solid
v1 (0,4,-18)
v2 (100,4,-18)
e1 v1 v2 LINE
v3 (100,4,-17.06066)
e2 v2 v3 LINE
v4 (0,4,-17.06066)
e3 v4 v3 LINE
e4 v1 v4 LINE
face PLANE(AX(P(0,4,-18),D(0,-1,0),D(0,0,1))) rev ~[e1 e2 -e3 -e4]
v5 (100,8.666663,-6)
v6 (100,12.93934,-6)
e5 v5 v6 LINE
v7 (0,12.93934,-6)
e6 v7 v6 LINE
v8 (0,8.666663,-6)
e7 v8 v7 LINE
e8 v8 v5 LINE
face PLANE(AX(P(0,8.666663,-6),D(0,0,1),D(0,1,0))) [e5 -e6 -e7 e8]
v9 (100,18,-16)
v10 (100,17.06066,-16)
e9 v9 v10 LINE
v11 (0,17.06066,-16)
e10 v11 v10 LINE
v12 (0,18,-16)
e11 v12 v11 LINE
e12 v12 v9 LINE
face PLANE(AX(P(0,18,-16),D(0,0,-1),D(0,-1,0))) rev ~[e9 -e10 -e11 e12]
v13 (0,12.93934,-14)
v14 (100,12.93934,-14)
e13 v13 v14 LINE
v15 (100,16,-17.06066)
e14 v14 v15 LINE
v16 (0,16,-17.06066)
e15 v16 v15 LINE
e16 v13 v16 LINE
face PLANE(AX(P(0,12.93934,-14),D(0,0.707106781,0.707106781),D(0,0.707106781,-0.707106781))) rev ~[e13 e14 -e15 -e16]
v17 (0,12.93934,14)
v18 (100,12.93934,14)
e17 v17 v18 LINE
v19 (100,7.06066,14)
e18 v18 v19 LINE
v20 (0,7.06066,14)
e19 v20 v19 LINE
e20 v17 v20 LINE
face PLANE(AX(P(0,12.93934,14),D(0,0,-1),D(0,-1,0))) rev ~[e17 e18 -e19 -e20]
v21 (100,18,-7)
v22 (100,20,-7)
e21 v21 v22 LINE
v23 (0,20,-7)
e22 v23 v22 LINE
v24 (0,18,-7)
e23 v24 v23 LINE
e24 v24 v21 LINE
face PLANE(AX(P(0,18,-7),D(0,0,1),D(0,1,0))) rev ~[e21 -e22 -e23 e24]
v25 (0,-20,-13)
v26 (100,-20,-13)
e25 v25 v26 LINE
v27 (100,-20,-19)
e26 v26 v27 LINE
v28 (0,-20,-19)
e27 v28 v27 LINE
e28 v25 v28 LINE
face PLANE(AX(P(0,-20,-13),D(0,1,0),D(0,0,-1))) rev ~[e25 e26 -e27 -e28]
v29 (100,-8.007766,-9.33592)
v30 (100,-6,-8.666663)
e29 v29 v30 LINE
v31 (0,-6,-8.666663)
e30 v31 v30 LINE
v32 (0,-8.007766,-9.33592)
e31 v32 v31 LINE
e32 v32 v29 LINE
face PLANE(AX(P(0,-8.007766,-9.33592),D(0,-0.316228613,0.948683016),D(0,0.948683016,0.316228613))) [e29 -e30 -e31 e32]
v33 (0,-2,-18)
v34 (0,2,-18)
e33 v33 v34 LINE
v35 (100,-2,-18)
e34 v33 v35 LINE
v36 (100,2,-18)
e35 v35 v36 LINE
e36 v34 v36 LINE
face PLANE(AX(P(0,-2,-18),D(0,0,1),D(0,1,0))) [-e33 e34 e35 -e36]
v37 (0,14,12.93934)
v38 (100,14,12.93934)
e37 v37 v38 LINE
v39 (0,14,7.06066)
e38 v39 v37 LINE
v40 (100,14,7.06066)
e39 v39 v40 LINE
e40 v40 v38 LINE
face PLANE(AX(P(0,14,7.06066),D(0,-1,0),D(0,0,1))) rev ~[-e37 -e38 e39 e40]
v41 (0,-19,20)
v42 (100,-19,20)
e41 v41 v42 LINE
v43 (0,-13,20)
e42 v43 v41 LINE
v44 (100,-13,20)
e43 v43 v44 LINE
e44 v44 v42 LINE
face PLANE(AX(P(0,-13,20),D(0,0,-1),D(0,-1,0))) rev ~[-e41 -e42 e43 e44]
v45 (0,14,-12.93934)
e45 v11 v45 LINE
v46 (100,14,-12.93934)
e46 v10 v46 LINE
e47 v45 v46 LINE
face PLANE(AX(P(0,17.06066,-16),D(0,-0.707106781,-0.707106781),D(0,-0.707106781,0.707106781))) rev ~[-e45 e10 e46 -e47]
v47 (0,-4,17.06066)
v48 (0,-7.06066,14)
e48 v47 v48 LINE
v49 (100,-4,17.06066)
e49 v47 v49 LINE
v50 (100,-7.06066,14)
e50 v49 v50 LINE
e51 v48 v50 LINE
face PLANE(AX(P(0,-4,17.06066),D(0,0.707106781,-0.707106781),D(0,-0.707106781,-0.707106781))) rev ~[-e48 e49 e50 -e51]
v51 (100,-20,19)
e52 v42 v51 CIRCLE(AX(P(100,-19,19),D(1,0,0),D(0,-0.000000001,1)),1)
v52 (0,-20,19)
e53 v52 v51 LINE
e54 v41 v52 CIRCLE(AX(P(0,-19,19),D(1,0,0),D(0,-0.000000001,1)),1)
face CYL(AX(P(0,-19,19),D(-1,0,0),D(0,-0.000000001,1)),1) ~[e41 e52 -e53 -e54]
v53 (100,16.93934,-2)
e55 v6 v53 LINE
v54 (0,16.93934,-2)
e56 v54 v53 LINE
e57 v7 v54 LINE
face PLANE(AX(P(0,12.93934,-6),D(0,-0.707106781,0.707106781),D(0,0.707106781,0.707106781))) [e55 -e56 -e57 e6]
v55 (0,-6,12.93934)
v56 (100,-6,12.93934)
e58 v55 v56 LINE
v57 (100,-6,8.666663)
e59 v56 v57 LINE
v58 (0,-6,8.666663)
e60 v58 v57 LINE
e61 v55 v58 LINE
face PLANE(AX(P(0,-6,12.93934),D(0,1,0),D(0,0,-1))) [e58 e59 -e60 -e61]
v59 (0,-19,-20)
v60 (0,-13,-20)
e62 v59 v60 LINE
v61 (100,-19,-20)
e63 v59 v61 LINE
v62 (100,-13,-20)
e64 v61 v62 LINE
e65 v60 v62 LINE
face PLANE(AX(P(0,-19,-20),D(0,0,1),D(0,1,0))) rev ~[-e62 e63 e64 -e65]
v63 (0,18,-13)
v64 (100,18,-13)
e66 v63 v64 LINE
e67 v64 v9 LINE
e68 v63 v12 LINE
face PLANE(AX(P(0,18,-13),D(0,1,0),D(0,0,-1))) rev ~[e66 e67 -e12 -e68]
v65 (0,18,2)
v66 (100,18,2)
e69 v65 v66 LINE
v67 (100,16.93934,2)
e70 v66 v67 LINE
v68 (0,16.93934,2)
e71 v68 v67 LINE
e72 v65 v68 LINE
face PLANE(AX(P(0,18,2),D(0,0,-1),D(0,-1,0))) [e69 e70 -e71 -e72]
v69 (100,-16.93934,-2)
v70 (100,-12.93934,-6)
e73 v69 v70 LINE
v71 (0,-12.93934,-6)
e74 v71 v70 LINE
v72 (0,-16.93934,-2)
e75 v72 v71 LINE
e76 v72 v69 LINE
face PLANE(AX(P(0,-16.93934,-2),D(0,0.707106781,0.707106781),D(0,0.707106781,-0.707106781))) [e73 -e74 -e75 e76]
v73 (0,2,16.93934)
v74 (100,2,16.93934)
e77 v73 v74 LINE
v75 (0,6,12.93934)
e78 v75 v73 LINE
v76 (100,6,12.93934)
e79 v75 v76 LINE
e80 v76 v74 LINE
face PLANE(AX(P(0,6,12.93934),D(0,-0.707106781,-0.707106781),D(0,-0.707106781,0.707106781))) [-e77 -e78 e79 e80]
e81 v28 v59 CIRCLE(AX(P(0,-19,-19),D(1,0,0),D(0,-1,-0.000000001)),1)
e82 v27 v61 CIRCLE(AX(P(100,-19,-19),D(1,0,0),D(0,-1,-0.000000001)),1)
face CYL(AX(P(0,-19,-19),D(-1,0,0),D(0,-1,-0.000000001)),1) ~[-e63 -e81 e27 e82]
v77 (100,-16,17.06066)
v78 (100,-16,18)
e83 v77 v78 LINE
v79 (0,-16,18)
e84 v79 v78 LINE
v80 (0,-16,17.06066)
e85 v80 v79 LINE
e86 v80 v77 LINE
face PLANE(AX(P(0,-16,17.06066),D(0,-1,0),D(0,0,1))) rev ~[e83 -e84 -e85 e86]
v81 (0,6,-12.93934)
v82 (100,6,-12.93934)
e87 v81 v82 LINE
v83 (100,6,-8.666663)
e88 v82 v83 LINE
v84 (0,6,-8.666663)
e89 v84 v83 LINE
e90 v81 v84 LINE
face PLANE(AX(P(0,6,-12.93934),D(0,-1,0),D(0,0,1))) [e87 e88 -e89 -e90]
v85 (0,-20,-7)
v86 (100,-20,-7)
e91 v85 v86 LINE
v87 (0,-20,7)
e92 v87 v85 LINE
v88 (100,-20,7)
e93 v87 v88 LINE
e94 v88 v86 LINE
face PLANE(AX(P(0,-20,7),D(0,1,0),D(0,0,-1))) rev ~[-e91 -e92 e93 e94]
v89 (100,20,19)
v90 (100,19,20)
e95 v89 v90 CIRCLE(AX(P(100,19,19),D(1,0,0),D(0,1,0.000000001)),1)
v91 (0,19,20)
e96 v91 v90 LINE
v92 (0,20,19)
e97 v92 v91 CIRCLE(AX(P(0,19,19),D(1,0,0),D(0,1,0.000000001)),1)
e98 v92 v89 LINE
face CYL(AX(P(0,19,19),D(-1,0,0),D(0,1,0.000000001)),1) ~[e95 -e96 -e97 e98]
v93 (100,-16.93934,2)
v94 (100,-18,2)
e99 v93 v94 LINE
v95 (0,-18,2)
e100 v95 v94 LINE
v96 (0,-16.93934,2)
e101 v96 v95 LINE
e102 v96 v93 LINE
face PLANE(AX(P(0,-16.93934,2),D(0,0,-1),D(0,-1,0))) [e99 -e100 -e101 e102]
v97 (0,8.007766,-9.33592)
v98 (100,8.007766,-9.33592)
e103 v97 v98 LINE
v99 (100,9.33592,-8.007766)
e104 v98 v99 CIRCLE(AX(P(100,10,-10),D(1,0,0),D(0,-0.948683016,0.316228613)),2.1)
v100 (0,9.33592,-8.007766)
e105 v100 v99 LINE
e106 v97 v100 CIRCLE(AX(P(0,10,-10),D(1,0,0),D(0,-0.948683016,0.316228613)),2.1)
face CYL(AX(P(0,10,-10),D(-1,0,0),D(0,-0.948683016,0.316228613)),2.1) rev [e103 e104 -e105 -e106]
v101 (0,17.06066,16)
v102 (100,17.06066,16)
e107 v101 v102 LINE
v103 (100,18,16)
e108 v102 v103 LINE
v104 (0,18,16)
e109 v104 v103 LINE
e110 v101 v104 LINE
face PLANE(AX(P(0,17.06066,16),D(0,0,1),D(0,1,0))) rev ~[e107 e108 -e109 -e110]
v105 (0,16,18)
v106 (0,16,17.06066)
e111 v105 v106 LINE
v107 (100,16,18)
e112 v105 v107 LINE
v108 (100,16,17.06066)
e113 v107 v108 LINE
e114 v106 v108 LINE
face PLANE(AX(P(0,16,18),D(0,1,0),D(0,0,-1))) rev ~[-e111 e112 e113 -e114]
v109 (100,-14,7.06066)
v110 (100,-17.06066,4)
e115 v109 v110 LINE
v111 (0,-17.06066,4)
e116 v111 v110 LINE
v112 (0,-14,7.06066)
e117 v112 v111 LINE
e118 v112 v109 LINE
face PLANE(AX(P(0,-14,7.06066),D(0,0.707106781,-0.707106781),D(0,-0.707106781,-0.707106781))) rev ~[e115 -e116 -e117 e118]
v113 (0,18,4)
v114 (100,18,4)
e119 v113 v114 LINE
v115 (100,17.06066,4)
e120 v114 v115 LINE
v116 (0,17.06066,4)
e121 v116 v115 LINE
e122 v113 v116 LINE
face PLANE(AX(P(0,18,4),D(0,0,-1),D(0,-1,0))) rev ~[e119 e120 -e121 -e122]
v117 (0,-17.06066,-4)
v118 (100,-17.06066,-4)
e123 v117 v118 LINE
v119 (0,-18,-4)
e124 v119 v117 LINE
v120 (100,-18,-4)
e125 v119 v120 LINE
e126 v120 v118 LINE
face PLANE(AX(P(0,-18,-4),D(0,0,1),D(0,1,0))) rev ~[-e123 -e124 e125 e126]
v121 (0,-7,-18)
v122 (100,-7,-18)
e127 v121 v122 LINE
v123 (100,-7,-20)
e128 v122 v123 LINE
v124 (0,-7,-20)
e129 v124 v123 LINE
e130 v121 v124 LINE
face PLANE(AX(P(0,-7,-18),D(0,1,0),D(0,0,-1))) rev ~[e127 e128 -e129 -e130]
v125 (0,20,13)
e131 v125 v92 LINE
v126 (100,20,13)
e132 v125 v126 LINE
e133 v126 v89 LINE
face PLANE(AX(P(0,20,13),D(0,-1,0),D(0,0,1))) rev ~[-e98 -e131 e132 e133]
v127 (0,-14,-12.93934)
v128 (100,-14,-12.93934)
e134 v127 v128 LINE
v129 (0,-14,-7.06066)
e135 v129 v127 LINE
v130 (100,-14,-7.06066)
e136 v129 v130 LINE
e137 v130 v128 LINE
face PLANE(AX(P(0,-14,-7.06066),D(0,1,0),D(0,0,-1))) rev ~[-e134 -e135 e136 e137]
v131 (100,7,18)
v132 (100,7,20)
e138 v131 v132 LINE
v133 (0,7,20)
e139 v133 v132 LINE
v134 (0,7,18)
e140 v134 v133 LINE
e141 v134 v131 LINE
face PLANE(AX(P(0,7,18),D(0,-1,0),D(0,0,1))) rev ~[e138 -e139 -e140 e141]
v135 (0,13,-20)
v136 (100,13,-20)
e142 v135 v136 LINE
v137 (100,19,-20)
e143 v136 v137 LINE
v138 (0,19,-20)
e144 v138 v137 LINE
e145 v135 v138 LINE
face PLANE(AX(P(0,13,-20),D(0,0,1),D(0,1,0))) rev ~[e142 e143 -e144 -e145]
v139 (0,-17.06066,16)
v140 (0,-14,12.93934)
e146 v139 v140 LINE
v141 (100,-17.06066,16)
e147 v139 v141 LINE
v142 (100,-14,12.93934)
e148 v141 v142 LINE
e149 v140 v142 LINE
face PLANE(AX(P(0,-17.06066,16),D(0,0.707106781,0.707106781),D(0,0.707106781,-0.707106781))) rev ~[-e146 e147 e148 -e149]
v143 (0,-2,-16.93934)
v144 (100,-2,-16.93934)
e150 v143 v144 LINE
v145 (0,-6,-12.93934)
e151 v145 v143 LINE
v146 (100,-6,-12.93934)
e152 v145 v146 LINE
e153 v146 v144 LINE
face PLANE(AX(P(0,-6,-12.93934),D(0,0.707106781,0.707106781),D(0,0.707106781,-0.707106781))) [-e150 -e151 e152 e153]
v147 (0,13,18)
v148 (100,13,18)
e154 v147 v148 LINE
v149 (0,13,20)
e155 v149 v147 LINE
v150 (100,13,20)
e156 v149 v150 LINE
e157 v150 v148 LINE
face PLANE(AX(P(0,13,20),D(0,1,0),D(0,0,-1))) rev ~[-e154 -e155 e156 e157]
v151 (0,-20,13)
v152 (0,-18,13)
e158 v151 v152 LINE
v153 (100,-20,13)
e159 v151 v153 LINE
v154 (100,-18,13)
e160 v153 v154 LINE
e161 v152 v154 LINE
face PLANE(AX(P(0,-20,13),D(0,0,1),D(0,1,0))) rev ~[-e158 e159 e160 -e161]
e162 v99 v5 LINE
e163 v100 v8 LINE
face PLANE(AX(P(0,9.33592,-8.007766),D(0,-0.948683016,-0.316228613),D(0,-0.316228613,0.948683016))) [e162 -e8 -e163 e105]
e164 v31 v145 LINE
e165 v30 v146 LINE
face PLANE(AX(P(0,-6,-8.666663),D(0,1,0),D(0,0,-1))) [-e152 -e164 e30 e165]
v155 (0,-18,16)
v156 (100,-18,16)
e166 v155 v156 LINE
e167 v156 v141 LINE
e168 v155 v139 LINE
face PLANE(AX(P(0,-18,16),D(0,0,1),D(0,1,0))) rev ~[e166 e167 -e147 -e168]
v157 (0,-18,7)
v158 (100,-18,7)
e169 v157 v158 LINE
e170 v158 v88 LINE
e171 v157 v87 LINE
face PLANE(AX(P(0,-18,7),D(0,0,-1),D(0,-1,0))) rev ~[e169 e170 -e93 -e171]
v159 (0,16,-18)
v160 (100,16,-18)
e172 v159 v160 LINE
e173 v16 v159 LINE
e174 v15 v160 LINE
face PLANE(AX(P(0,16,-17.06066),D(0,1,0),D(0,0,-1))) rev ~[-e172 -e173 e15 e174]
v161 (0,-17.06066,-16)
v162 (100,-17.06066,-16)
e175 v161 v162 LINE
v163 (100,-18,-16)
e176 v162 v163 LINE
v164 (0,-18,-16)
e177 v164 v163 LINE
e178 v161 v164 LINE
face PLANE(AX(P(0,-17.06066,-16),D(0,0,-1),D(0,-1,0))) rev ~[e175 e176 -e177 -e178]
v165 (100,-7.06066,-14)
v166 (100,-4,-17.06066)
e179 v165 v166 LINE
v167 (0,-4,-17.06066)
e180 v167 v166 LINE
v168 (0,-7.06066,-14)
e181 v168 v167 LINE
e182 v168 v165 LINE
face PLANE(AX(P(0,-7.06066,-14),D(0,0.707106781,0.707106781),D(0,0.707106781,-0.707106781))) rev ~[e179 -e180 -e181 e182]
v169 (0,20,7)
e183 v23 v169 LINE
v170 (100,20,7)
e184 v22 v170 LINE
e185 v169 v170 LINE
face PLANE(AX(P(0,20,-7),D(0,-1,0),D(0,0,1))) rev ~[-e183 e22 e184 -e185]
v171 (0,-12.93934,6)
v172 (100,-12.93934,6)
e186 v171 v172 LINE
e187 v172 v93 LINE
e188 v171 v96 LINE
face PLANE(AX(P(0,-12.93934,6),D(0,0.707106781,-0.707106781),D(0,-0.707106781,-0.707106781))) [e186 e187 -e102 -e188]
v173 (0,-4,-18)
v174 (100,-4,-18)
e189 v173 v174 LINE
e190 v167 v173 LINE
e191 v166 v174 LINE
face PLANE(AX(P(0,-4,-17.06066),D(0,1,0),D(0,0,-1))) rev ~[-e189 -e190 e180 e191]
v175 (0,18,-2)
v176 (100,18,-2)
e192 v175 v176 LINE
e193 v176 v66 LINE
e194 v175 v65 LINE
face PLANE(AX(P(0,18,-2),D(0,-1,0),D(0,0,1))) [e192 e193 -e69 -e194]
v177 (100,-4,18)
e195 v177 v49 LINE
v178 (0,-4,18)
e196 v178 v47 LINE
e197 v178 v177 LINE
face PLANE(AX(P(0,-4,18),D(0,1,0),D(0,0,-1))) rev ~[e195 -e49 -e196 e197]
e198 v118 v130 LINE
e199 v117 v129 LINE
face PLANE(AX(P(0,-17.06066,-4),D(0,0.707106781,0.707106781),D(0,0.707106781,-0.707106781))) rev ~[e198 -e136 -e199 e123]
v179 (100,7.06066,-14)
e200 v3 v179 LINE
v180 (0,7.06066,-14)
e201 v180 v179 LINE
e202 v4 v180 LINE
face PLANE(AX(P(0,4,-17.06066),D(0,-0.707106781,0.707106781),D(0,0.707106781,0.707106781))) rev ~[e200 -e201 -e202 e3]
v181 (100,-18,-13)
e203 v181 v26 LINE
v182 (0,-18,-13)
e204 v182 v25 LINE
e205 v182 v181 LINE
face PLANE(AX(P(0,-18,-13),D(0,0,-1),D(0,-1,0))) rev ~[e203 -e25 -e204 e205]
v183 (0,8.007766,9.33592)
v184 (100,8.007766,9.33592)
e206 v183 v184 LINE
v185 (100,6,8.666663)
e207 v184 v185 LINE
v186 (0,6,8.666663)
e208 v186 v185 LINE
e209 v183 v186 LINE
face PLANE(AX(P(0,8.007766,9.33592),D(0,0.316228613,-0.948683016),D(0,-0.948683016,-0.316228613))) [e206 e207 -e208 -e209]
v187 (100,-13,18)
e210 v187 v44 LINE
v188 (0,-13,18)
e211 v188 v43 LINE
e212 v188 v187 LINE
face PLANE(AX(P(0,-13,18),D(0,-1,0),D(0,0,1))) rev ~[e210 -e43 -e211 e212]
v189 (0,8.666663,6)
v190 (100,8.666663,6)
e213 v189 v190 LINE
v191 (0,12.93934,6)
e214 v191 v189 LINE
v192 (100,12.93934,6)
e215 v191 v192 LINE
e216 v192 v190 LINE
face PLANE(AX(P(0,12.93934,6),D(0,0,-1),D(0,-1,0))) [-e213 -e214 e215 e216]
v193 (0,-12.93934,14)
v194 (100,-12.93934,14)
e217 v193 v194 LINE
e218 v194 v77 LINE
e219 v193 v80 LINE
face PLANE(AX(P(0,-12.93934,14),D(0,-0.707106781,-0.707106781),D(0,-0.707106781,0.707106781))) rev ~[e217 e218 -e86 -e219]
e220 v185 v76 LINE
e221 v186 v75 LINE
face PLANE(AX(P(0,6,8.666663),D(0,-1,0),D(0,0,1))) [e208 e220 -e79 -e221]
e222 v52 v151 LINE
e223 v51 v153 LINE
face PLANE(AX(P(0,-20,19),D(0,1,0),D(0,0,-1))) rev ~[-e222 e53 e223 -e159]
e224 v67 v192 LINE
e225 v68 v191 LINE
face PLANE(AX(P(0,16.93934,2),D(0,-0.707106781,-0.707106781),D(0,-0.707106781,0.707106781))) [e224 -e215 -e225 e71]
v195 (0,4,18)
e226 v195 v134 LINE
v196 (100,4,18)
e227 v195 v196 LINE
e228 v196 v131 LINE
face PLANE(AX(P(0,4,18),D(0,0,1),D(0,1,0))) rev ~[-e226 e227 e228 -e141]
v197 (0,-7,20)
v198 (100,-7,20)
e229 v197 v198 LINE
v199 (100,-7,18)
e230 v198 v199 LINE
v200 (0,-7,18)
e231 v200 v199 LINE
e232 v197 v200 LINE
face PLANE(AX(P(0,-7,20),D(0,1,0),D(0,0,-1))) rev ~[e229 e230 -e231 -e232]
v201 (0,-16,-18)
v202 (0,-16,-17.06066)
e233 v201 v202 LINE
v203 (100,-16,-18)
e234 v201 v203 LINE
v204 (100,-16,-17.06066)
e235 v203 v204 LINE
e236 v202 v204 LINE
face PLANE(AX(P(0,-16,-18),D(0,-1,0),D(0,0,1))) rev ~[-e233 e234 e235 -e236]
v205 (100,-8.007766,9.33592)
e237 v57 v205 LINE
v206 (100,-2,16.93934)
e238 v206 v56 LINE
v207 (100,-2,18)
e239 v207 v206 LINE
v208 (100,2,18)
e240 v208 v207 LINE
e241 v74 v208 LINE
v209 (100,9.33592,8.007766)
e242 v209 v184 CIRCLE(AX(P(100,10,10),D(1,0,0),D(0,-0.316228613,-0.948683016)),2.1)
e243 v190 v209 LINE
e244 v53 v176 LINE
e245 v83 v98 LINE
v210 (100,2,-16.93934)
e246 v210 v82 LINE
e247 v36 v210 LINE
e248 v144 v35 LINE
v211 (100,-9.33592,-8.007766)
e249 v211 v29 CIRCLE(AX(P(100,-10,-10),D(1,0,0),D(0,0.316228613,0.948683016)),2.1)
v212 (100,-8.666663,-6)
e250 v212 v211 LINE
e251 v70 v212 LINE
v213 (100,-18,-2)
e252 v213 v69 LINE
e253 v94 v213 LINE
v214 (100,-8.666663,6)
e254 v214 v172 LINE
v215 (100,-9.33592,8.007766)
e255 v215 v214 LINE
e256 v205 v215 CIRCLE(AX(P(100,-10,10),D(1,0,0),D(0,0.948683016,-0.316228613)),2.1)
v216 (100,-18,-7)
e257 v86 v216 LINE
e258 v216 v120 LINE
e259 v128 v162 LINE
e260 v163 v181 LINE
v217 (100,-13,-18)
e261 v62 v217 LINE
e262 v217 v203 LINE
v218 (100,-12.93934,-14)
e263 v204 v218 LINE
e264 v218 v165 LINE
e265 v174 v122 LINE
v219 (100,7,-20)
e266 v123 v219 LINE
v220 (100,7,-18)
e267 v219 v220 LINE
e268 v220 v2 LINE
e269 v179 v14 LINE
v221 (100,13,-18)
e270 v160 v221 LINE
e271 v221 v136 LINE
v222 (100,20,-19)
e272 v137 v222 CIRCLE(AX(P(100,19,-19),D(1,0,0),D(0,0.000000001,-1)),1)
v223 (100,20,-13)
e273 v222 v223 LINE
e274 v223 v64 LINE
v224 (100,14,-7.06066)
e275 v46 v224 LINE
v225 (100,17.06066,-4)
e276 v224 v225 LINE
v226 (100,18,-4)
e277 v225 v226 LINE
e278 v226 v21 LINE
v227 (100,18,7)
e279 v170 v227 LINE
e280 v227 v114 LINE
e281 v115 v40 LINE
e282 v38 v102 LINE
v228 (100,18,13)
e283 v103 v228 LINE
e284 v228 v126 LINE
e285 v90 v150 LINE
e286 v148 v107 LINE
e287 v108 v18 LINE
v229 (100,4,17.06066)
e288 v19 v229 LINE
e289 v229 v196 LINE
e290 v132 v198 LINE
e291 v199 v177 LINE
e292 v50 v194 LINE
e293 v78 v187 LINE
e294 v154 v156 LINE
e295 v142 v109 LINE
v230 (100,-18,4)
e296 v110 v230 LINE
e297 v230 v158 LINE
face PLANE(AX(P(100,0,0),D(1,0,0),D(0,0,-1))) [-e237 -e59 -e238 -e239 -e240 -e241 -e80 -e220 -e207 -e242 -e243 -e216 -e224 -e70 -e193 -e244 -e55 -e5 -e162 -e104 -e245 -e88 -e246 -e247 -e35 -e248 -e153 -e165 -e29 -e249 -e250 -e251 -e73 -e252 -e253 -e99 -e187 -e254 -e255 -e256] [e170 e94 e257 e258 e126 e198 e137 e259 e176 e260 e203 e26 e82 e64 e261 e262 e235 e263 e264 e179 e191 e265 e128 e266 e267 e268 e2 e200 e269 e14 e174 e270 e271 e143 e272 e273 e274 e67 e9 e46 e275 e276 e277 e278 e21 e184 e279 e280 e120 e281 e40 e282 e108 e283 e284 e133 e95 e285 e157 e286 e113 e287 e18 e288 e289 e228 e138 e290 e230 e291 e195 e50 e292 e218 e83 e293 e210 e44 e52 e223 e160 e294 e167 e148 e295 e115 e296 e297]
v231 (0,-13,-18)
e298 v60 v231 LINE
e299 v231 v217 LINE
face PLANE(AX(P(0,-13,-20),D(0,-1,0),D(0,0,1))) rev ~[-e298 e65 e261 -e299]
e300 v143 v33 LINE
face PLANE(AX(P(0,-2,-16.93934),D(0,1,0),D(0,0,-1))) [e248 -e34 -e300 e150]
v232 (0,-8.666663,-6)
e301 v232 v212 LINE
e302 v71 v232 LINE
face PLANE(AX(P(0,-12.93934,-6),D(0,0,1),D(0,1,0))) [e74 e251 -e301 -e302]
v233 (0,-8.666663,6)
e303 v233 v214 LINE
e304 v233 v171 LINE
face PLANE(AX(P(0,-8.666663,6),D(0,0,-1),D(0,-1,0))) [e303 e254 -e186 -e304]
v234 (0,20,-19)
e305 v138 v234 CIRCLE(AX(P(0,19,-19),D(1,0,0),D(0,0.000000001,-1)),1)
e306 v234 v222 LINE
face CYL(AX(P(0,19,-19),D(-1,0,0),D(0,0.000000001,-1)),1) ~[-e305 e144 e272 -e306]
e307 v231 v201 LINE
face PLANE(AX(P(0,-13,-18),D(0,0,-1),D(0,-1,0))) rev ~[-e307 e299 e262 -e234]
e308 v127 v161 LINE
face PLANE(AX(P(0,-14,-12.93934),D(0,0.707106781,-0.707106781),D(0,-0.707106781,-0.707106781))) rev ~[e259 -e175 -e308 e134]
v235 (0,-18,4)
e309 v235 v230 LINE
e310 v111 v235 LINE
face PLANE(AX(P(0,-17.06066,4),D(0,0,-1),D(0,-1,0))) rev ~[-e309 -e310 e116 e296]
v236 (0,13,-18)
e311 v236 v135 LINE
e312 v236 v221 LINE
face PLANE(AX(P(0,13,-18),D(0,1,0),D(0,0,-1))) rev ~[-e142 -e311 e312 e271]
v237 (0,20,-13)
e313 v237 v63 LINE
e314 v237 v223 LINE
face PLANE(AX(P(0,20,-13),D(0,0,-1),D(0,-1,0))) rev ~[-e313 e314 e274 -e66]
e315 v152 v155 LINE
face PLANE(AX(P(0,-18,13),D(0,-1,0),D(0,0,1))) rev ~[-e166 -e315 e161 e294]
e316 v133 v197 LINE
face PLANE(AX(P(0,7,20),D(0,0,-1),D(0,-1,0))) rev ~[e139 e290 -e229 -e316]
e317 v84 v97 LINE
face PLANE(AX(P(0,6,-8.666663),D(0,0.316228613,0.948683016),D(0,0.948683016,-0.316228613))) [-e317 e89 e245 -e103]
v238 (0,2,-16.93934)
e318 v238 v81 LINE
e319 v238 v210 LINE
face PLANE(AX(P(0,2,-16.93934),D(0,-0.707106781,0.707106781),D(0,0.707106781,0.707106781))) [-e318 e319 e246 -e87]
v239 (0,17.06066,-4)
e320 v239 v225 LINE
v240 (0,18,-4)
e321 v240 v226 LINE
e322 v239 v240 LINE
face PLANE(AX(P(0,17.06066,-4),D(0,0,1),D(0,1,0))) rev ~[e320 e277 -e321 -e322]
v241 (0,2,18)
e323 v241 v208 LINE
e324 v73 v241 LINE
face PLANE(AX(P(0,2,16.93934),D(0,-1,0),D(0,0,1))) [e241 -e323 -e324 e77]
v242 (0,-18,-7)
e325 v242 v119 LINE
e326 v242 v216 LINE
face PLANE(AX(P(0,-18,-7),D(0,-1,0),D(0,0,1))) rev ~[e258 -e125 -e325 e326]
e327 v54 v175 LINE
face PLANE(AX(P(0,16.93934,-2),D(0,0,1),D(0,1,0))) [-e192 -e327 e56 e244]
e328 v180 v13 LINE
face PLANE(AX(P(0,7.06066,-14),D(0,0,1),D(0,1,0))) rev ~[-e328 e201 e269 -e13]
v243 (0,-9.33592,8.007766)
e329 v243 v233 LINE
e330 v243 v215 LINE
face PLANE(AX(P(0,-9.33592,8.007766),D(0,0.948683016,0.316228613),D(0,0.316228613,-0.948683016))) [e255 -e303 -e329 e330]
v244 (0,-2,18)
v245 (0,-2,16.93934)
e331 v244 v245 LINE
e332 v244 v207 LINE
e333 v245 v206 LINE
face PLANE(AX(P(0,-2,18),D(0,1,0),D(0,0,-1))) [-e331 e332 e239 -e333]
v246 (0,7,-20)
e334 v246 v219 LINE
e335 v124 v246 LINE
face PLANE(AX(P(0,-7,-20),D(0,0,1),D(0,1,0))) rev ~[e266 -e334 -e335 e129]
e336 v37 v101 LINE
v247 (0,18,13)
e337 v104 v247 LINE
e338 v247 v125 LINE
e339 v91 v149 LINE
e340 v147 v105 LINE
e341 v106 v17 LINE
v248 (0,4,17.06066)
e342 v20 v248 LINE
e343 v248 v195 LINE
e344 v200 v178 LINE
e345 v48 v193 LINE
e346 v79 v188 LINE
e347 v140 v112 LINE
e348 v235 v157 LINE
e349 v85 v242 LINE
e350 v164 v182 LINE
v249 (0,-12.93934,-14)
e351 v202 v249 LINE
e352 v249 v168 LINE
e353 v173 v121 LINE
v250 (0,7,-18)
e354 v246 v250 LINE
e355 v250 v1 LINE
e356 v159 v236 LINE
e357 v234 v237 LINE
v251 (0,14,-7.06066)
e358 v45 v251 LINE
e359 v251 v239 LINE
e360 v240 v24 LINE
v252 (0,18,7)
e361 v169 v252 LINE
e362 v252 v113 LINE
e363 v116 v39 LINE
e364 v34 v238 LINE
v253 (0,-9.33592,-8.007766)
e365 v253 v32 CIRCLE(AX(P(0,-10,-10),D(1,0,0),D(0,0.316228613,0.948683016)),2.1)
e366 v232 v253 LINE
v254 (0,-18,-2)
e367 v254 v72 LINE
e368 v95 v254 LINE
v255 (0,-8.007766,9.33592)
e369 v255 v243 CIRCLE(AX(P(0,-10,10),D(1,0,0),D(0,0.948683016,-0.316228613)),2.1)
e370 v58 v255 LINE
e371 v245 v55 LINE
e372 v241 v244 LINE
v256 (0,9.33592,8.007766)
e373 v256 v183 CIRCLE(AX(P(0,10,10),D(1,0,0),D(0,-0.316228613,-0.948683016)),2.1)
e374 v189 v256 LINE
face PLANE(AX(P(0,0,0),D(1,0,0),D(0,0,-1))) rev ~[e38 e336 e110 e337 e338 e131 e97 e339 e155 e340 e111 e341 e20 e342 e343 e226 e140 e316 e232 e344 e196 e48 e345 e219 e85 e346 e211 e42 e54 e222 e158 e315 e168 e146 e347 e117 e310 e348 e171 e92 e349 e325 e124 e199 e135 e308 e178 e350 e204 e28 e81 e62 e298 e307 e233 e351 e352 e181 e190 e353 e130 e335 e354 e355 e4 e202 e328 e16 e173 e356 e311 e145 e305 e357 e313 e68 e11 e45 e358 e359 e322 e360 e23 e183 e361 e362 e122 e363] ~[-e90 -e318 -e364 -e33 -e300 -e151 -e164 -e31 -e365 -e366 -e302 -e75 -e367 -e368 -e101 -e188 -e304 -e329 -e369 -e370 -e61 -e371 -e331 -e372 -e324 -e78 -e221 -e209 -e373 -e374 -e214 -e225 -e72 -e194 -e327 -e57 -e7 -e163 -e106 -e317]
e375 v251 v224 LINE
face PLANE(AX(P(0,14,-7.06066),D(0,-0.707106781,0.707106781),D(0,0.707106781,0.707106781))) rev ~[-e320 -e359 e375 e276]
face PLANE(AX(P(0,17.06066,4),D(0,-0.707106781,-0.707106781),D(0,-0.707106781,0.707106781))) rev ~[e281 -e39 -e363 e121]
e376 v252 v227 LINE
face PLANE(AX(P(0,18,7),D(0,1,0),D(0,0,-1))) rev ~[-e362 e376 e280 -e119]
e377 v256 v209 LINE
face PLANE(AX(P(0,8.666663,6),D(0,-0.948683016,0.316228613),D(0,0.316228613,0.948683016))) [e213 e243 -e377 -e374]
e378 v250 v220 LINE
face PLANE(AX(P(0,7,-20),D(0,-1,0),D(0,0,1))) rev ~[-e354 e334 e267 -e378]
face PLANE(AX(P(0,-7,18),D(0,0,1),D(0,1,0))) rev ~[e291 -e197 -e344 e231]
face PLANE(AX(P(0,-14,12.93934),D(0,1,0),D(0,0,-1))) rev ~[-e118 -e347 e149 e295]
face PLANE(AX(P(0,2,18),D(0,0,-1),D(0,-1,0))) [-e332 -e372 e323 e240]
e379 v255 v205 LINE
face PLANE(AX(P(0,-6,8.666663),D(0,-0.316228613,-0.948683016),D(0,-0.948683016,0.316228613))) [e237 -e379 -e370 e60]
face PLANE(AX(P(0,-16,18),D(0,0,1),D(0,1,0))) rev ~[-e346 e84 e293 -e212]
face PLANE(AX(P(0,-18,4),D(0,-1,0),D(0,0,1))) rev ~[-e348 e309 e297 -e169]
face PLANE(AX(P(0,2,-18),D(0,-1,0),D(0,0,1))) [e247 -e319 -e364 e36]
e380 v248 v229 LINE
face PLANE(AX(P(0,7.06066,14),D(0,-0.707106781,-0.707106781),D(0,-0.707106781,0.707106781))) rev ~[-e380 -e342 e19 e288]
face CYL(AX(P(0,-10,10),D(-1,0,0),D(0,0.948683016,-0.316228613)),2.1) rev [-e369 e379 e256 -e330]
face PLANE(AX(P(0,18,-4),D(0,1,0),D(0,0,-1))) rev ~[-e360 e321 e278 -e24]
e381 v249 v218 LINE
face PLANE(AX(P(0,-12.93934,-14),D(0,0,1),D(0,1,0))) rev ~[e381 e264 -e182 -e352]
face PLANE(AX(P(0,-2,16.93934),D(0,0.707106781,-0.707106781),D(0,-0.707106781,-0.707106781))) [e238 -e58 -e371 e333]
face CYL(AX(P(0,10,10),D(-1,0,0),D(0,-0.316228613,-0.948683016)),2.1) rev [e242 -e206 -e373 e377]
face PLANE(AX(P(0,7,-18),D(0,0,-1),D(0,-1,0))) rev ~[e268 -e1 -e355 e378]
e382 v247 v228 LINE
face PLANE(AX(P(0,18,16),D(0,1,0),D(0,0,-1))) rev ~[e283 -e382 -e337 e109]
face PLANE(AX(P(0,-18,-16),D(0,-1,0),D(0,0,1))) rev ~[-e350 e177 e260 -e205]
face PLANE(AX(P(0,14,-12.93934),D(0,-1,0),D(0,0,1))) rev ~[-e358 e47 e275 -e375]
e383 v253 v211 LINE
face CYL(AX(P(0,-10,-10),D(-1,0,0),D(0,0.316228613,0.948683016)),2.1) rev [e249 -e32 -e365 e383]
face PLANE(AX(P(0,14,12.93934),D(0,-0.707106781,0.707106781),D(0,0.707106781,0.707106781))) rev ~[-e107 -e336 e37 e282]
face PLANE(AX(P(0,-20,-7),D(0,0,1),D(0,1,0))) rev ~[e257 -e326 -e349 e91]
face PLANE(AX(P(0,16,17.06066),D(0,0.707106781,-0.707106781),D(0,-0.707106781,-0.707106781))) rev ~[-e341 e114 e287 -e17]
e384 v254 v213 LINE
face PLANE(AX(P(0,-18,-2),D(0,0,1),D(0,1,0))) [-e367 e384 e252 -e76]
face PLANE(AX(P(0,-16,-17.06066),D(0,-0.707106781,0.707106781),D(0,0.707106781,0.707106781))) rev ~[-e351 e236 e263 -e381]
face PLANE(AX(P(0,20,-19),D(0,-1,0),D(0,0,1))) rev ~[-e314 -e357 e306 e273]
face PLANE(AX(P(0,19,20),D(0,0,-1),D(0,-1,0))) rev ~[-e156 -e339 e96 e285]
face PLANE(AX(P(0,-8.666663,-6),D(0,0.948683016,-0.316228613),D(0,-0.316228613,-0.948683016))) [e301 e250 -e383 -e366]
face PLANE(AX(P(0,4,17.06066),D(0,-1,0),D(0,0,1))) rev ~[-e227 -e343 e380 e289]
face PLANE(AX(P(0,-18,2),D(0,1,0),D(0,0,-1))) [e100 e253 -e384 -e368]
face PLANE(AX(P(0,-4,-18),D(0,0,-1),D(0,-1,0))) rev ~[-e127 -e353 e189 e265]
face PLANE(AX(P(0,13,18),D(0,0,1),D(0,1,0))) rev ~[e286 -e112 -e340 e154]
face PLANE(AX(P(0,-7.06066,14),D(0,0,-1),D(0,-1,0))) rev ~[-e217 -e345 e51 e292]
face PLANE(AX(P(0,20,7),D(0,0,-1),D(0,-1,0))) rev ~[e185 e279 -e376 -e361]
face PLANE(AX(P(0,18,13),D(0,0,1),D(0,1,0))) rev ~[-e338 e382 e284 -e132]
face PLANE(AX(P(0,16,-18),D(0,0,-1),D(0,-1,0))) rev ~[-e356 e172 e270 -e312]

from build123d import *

# Parameters (mm, degrees)
BOSS_EXTRUDE1_DEPTH = 100


with BuildPart() as part:
    # Sketch1 → Boss-Extrude1 (new body)
    with BuildSketch(Plane(origin=(0, 0, 0), x_dir=(0, 0, -1), z_dir=(1, 0, 0))):
        with BuildLine():
            Line((-20, 19), (-20, 13))
            Line((-20, 13), (-18, 13))
            Line((-18, 13), (-18, 16))
            Line((-18, 16), (-17.060660172, 16))
            Line((-17.060660172, 16), (-14, 12.939339828))
            Line((-14, 12.939339828), (-14, 7.060660172))
            Line((-14, 7.060660172), (-17.060660172, 4))
            Line((-17.060660172, 4), (-18, 4))
            Line((-18, 4), (-18, 7))
            Line((-18, 7), (-20, 7))
            Line((-20, 7), (-20, -7))
            Line((-20, -7), (-18, -7))
            Line((-18, -7), (-18, -4))
            Line((-18, -4), (-17.060660172, -4))
            Line((-17.060660172, -4), (-14, -7.060660172))
            Line((-14, -7.060660172), (-14, -12.939339828))
            Line((-14, -12.939339828), (-17.060660172, -16))
            Line((-17.060660172, -16), (-18, -16))
            Line((-18, -16), (-18, -13))
            Line((-18, -13), (-20, -13))
            Line((-20, -13), (-20, -19))
            ThreePointArc((-20, -19), (-19.707106781, -19.707106781), (-19, -20))
            Line((-19, -20), (-13, -20))
            Line((-13, -20), (-13, -18))
            Line((-13, -18), (-16, -18))
            Line((-16, -18), (-16, -17.060660172))
            Line((-16, -17.060660172), (-12.939339828, -14))
            Line((-12.939339828, -14), (-7.060660172, -14))
            Line((-7.060660172, -14), (-4, -17.060660172))
            Line((-4, -17.060660172), (-4, -18))
            Line((-4, -18), (-7, -18))
            Line((-7, -18), (-7, -20))
            Line((-7, -20), (7, -20))
            Line((7, -20), (7, -18))
            Line((7, -18), (4, -18))
            Line((4, -18), (4, -17.060660172))
            Line((4, -17.060660172), (7.060660172, -14))
            Line((7.060660172, -14), (12.939339828, -14))
            Line((12.939339828, -14), (16, -17.060660172))
            Line((16, -17.060660172), (16, -18))
            Line((16, -18), (13, -18))
            Line((13, -18), (13, -20))
            Line((13, -20), (19, -20))
            ThreePointArc((19, -20), (19.707106781, -19.707106781), (20, -19))
            Line((20, -19), (20, -13))
            Line((20, -13), (18, -13))
            Line((18, -13), (18, -16))
            Line((18, -16), (17.060660172, -16))
            Line((17.060660172, -16), (14, -12.939339828))
            Line((14, -12.939339828), (14, -7.060660172))
            Line((14, -7.060660172), (17.060660172, -4))
            Line((17.060660172, -4), (18, -4))
            Line((18, -4), (18, -7))
            Line((18, -7), (20, -7))
            Line((20, -7), (20, 7))
            Line((20, 7), (18, 7))
            Line((18, 7), (18, 4))
            Line((18, 4), (17.060660172, 4))
            Line((17.060660172, 4), (14, 7.060660172))
            Line((14, 7.060660172), (14, 12.939339828))
            Line((14, 12.939339828), (17.060660172, 16))
            Line((17.060660172, 16), (18, 16))
            Line((18, 16), (18, 13))
            Line((18, 13), (20, 13))
            Line((20, 13), (20, 19))
            ThreePointArc((20, 19), (19.707106781, 19.707106781), (19, 20))
            Line((19, 20), (13, 20))
            Line((13, 20), (13, 18))
            Line((13, 18), (16, 18))
            Line((16, 18), (16, 17.060660172))
            Line((16, 17.060660172), (12.939339828, 14))
            Line((12.939339828, 14), (7.060660172, 14))
            Line((7.060660172, 14), (4, 17.060660172))
            Line((4, 17.060660172), (4, 18))
            Line((4, 18), (7, 18))
            Line((7, 18), (7, 20))
            Line((7, 20), (-7, 20))
            Line((-7, 20), (-7, 18))
            Line((-7, 18), (-4, 18))
            Line((-4, 18), (-4, 17.060660172))
            Line((-4, 17.060660172), (-7.060660172, 14))
            Line((-7.060660172, 14), (-12.939339828, 14))
            Line((-12.939339828, 14), (-16, 17.060660172))
            Line((-16, 17.060660172), (-16, 18))
            Line((-16, 18), (-13, 18))
            Line((-13, 18), (-13, 20))
            Line((-13, 20), (-19, 20))
            ThreePointArc((-19, 20), (-19.707106781, 19.707106781), (-20, 19))
        make_face()
        with BuildLine():
            Line((-16.939339828, 2), (-18, 2))
            Line((-18, 2), (-18, -2))
            Line((-18, -2), (-16.939339828, -2))
            Line((-16.939339828, -2), (-12.939339828, -6))
            Line((-12.939339828, -6), (-8.666662697, -6))
            Line((-8.666662697, -6), (-9.335919912, -8.007765667))
            ThreePointArc((-9.335919912, -8.007765667), (-11.48492424, -11.48492424), (-8.007765667, -9.335919912))
            Line((-8.007765667, -9.335919912), (-6, -8.666662697))
            Line((-6, -8.666662697), (-6, -12.939339828))
            Line((-6, -12.939339828), (-2, -16.939339828))
            Line((-2, -16.939339828), (-2, -18))
            Line((-2, -18), (2, -18))
            Line((2, -18), (2, -16.939339828))
            Line((2, -16.939339828), (6, -12.939339828))
            Line((6, -12.939339828), (6, -8.666662697))
            Line((6, -8.666662697), (8.007765667, -9.335919912))
            ThreePointArc((8.007765667, -9.335919912), (11.48492424, -11.48492424), (9.335919912, -8.007765667))
            Line((9.335919912, -8.007765667), (8.666662697, -6))
            Line((8.666662697, -6), (12.939339828, -6))
            Line((12.939339828, -6), (16.939339828, -2))
            Line((16.939339828, -2), (18, -2))
            Line((18, -2), (18, 2))
            Line((18, 2), (16.939339828, 2))
            Line((16.939339828, 2), (12.939339828, 6))
            Line((12.939339828, 6), (8.666662697, 6))
            Line((8.666662697, 6), (9.335919912, 8.007765667))
            ThreePointArc((9.335919912, 8.007765667), (11.48492424, 11.48492424), (8.007765667, 9.335919912))
            Line((8.007765667, 9.335919912), (6, 8.666662697))
            Line((6, 8.666662697), (6, 12.939339828))
            Line((6, 12.939339828), (2, 16.939339828))
            Line((2, 16.939339828), (2, 18))
            Line((2, 18), (-2, 18))
            Line((-2, 18), (-2, 16.939339828))
            Line((-2, 16.939339828), (-6, 12.939339828))
            Line((-6, 12.939339828), (-6, 8.666662697))
            Line((-6, 8.666662697), (-8.007765667, 9.335919912))
            ThreePointArc((-8.007765667, 9.335919912), (-11.48492424, 11.48492424), (-9.335919912, 8.007765667))
            Line((-9.335919912, 8.007765667), (-8.666662697, 6))
            Line((-8.666662697, 6), (-12.939339828, 6))
            Line((-12.939339828, 6), (-16.939339828, 2))
        make_face(mode=Mode.SUBTRACT)
    extrude(amount=BOSS_EXTRUDE1_DEPTH)


solid = part.part
